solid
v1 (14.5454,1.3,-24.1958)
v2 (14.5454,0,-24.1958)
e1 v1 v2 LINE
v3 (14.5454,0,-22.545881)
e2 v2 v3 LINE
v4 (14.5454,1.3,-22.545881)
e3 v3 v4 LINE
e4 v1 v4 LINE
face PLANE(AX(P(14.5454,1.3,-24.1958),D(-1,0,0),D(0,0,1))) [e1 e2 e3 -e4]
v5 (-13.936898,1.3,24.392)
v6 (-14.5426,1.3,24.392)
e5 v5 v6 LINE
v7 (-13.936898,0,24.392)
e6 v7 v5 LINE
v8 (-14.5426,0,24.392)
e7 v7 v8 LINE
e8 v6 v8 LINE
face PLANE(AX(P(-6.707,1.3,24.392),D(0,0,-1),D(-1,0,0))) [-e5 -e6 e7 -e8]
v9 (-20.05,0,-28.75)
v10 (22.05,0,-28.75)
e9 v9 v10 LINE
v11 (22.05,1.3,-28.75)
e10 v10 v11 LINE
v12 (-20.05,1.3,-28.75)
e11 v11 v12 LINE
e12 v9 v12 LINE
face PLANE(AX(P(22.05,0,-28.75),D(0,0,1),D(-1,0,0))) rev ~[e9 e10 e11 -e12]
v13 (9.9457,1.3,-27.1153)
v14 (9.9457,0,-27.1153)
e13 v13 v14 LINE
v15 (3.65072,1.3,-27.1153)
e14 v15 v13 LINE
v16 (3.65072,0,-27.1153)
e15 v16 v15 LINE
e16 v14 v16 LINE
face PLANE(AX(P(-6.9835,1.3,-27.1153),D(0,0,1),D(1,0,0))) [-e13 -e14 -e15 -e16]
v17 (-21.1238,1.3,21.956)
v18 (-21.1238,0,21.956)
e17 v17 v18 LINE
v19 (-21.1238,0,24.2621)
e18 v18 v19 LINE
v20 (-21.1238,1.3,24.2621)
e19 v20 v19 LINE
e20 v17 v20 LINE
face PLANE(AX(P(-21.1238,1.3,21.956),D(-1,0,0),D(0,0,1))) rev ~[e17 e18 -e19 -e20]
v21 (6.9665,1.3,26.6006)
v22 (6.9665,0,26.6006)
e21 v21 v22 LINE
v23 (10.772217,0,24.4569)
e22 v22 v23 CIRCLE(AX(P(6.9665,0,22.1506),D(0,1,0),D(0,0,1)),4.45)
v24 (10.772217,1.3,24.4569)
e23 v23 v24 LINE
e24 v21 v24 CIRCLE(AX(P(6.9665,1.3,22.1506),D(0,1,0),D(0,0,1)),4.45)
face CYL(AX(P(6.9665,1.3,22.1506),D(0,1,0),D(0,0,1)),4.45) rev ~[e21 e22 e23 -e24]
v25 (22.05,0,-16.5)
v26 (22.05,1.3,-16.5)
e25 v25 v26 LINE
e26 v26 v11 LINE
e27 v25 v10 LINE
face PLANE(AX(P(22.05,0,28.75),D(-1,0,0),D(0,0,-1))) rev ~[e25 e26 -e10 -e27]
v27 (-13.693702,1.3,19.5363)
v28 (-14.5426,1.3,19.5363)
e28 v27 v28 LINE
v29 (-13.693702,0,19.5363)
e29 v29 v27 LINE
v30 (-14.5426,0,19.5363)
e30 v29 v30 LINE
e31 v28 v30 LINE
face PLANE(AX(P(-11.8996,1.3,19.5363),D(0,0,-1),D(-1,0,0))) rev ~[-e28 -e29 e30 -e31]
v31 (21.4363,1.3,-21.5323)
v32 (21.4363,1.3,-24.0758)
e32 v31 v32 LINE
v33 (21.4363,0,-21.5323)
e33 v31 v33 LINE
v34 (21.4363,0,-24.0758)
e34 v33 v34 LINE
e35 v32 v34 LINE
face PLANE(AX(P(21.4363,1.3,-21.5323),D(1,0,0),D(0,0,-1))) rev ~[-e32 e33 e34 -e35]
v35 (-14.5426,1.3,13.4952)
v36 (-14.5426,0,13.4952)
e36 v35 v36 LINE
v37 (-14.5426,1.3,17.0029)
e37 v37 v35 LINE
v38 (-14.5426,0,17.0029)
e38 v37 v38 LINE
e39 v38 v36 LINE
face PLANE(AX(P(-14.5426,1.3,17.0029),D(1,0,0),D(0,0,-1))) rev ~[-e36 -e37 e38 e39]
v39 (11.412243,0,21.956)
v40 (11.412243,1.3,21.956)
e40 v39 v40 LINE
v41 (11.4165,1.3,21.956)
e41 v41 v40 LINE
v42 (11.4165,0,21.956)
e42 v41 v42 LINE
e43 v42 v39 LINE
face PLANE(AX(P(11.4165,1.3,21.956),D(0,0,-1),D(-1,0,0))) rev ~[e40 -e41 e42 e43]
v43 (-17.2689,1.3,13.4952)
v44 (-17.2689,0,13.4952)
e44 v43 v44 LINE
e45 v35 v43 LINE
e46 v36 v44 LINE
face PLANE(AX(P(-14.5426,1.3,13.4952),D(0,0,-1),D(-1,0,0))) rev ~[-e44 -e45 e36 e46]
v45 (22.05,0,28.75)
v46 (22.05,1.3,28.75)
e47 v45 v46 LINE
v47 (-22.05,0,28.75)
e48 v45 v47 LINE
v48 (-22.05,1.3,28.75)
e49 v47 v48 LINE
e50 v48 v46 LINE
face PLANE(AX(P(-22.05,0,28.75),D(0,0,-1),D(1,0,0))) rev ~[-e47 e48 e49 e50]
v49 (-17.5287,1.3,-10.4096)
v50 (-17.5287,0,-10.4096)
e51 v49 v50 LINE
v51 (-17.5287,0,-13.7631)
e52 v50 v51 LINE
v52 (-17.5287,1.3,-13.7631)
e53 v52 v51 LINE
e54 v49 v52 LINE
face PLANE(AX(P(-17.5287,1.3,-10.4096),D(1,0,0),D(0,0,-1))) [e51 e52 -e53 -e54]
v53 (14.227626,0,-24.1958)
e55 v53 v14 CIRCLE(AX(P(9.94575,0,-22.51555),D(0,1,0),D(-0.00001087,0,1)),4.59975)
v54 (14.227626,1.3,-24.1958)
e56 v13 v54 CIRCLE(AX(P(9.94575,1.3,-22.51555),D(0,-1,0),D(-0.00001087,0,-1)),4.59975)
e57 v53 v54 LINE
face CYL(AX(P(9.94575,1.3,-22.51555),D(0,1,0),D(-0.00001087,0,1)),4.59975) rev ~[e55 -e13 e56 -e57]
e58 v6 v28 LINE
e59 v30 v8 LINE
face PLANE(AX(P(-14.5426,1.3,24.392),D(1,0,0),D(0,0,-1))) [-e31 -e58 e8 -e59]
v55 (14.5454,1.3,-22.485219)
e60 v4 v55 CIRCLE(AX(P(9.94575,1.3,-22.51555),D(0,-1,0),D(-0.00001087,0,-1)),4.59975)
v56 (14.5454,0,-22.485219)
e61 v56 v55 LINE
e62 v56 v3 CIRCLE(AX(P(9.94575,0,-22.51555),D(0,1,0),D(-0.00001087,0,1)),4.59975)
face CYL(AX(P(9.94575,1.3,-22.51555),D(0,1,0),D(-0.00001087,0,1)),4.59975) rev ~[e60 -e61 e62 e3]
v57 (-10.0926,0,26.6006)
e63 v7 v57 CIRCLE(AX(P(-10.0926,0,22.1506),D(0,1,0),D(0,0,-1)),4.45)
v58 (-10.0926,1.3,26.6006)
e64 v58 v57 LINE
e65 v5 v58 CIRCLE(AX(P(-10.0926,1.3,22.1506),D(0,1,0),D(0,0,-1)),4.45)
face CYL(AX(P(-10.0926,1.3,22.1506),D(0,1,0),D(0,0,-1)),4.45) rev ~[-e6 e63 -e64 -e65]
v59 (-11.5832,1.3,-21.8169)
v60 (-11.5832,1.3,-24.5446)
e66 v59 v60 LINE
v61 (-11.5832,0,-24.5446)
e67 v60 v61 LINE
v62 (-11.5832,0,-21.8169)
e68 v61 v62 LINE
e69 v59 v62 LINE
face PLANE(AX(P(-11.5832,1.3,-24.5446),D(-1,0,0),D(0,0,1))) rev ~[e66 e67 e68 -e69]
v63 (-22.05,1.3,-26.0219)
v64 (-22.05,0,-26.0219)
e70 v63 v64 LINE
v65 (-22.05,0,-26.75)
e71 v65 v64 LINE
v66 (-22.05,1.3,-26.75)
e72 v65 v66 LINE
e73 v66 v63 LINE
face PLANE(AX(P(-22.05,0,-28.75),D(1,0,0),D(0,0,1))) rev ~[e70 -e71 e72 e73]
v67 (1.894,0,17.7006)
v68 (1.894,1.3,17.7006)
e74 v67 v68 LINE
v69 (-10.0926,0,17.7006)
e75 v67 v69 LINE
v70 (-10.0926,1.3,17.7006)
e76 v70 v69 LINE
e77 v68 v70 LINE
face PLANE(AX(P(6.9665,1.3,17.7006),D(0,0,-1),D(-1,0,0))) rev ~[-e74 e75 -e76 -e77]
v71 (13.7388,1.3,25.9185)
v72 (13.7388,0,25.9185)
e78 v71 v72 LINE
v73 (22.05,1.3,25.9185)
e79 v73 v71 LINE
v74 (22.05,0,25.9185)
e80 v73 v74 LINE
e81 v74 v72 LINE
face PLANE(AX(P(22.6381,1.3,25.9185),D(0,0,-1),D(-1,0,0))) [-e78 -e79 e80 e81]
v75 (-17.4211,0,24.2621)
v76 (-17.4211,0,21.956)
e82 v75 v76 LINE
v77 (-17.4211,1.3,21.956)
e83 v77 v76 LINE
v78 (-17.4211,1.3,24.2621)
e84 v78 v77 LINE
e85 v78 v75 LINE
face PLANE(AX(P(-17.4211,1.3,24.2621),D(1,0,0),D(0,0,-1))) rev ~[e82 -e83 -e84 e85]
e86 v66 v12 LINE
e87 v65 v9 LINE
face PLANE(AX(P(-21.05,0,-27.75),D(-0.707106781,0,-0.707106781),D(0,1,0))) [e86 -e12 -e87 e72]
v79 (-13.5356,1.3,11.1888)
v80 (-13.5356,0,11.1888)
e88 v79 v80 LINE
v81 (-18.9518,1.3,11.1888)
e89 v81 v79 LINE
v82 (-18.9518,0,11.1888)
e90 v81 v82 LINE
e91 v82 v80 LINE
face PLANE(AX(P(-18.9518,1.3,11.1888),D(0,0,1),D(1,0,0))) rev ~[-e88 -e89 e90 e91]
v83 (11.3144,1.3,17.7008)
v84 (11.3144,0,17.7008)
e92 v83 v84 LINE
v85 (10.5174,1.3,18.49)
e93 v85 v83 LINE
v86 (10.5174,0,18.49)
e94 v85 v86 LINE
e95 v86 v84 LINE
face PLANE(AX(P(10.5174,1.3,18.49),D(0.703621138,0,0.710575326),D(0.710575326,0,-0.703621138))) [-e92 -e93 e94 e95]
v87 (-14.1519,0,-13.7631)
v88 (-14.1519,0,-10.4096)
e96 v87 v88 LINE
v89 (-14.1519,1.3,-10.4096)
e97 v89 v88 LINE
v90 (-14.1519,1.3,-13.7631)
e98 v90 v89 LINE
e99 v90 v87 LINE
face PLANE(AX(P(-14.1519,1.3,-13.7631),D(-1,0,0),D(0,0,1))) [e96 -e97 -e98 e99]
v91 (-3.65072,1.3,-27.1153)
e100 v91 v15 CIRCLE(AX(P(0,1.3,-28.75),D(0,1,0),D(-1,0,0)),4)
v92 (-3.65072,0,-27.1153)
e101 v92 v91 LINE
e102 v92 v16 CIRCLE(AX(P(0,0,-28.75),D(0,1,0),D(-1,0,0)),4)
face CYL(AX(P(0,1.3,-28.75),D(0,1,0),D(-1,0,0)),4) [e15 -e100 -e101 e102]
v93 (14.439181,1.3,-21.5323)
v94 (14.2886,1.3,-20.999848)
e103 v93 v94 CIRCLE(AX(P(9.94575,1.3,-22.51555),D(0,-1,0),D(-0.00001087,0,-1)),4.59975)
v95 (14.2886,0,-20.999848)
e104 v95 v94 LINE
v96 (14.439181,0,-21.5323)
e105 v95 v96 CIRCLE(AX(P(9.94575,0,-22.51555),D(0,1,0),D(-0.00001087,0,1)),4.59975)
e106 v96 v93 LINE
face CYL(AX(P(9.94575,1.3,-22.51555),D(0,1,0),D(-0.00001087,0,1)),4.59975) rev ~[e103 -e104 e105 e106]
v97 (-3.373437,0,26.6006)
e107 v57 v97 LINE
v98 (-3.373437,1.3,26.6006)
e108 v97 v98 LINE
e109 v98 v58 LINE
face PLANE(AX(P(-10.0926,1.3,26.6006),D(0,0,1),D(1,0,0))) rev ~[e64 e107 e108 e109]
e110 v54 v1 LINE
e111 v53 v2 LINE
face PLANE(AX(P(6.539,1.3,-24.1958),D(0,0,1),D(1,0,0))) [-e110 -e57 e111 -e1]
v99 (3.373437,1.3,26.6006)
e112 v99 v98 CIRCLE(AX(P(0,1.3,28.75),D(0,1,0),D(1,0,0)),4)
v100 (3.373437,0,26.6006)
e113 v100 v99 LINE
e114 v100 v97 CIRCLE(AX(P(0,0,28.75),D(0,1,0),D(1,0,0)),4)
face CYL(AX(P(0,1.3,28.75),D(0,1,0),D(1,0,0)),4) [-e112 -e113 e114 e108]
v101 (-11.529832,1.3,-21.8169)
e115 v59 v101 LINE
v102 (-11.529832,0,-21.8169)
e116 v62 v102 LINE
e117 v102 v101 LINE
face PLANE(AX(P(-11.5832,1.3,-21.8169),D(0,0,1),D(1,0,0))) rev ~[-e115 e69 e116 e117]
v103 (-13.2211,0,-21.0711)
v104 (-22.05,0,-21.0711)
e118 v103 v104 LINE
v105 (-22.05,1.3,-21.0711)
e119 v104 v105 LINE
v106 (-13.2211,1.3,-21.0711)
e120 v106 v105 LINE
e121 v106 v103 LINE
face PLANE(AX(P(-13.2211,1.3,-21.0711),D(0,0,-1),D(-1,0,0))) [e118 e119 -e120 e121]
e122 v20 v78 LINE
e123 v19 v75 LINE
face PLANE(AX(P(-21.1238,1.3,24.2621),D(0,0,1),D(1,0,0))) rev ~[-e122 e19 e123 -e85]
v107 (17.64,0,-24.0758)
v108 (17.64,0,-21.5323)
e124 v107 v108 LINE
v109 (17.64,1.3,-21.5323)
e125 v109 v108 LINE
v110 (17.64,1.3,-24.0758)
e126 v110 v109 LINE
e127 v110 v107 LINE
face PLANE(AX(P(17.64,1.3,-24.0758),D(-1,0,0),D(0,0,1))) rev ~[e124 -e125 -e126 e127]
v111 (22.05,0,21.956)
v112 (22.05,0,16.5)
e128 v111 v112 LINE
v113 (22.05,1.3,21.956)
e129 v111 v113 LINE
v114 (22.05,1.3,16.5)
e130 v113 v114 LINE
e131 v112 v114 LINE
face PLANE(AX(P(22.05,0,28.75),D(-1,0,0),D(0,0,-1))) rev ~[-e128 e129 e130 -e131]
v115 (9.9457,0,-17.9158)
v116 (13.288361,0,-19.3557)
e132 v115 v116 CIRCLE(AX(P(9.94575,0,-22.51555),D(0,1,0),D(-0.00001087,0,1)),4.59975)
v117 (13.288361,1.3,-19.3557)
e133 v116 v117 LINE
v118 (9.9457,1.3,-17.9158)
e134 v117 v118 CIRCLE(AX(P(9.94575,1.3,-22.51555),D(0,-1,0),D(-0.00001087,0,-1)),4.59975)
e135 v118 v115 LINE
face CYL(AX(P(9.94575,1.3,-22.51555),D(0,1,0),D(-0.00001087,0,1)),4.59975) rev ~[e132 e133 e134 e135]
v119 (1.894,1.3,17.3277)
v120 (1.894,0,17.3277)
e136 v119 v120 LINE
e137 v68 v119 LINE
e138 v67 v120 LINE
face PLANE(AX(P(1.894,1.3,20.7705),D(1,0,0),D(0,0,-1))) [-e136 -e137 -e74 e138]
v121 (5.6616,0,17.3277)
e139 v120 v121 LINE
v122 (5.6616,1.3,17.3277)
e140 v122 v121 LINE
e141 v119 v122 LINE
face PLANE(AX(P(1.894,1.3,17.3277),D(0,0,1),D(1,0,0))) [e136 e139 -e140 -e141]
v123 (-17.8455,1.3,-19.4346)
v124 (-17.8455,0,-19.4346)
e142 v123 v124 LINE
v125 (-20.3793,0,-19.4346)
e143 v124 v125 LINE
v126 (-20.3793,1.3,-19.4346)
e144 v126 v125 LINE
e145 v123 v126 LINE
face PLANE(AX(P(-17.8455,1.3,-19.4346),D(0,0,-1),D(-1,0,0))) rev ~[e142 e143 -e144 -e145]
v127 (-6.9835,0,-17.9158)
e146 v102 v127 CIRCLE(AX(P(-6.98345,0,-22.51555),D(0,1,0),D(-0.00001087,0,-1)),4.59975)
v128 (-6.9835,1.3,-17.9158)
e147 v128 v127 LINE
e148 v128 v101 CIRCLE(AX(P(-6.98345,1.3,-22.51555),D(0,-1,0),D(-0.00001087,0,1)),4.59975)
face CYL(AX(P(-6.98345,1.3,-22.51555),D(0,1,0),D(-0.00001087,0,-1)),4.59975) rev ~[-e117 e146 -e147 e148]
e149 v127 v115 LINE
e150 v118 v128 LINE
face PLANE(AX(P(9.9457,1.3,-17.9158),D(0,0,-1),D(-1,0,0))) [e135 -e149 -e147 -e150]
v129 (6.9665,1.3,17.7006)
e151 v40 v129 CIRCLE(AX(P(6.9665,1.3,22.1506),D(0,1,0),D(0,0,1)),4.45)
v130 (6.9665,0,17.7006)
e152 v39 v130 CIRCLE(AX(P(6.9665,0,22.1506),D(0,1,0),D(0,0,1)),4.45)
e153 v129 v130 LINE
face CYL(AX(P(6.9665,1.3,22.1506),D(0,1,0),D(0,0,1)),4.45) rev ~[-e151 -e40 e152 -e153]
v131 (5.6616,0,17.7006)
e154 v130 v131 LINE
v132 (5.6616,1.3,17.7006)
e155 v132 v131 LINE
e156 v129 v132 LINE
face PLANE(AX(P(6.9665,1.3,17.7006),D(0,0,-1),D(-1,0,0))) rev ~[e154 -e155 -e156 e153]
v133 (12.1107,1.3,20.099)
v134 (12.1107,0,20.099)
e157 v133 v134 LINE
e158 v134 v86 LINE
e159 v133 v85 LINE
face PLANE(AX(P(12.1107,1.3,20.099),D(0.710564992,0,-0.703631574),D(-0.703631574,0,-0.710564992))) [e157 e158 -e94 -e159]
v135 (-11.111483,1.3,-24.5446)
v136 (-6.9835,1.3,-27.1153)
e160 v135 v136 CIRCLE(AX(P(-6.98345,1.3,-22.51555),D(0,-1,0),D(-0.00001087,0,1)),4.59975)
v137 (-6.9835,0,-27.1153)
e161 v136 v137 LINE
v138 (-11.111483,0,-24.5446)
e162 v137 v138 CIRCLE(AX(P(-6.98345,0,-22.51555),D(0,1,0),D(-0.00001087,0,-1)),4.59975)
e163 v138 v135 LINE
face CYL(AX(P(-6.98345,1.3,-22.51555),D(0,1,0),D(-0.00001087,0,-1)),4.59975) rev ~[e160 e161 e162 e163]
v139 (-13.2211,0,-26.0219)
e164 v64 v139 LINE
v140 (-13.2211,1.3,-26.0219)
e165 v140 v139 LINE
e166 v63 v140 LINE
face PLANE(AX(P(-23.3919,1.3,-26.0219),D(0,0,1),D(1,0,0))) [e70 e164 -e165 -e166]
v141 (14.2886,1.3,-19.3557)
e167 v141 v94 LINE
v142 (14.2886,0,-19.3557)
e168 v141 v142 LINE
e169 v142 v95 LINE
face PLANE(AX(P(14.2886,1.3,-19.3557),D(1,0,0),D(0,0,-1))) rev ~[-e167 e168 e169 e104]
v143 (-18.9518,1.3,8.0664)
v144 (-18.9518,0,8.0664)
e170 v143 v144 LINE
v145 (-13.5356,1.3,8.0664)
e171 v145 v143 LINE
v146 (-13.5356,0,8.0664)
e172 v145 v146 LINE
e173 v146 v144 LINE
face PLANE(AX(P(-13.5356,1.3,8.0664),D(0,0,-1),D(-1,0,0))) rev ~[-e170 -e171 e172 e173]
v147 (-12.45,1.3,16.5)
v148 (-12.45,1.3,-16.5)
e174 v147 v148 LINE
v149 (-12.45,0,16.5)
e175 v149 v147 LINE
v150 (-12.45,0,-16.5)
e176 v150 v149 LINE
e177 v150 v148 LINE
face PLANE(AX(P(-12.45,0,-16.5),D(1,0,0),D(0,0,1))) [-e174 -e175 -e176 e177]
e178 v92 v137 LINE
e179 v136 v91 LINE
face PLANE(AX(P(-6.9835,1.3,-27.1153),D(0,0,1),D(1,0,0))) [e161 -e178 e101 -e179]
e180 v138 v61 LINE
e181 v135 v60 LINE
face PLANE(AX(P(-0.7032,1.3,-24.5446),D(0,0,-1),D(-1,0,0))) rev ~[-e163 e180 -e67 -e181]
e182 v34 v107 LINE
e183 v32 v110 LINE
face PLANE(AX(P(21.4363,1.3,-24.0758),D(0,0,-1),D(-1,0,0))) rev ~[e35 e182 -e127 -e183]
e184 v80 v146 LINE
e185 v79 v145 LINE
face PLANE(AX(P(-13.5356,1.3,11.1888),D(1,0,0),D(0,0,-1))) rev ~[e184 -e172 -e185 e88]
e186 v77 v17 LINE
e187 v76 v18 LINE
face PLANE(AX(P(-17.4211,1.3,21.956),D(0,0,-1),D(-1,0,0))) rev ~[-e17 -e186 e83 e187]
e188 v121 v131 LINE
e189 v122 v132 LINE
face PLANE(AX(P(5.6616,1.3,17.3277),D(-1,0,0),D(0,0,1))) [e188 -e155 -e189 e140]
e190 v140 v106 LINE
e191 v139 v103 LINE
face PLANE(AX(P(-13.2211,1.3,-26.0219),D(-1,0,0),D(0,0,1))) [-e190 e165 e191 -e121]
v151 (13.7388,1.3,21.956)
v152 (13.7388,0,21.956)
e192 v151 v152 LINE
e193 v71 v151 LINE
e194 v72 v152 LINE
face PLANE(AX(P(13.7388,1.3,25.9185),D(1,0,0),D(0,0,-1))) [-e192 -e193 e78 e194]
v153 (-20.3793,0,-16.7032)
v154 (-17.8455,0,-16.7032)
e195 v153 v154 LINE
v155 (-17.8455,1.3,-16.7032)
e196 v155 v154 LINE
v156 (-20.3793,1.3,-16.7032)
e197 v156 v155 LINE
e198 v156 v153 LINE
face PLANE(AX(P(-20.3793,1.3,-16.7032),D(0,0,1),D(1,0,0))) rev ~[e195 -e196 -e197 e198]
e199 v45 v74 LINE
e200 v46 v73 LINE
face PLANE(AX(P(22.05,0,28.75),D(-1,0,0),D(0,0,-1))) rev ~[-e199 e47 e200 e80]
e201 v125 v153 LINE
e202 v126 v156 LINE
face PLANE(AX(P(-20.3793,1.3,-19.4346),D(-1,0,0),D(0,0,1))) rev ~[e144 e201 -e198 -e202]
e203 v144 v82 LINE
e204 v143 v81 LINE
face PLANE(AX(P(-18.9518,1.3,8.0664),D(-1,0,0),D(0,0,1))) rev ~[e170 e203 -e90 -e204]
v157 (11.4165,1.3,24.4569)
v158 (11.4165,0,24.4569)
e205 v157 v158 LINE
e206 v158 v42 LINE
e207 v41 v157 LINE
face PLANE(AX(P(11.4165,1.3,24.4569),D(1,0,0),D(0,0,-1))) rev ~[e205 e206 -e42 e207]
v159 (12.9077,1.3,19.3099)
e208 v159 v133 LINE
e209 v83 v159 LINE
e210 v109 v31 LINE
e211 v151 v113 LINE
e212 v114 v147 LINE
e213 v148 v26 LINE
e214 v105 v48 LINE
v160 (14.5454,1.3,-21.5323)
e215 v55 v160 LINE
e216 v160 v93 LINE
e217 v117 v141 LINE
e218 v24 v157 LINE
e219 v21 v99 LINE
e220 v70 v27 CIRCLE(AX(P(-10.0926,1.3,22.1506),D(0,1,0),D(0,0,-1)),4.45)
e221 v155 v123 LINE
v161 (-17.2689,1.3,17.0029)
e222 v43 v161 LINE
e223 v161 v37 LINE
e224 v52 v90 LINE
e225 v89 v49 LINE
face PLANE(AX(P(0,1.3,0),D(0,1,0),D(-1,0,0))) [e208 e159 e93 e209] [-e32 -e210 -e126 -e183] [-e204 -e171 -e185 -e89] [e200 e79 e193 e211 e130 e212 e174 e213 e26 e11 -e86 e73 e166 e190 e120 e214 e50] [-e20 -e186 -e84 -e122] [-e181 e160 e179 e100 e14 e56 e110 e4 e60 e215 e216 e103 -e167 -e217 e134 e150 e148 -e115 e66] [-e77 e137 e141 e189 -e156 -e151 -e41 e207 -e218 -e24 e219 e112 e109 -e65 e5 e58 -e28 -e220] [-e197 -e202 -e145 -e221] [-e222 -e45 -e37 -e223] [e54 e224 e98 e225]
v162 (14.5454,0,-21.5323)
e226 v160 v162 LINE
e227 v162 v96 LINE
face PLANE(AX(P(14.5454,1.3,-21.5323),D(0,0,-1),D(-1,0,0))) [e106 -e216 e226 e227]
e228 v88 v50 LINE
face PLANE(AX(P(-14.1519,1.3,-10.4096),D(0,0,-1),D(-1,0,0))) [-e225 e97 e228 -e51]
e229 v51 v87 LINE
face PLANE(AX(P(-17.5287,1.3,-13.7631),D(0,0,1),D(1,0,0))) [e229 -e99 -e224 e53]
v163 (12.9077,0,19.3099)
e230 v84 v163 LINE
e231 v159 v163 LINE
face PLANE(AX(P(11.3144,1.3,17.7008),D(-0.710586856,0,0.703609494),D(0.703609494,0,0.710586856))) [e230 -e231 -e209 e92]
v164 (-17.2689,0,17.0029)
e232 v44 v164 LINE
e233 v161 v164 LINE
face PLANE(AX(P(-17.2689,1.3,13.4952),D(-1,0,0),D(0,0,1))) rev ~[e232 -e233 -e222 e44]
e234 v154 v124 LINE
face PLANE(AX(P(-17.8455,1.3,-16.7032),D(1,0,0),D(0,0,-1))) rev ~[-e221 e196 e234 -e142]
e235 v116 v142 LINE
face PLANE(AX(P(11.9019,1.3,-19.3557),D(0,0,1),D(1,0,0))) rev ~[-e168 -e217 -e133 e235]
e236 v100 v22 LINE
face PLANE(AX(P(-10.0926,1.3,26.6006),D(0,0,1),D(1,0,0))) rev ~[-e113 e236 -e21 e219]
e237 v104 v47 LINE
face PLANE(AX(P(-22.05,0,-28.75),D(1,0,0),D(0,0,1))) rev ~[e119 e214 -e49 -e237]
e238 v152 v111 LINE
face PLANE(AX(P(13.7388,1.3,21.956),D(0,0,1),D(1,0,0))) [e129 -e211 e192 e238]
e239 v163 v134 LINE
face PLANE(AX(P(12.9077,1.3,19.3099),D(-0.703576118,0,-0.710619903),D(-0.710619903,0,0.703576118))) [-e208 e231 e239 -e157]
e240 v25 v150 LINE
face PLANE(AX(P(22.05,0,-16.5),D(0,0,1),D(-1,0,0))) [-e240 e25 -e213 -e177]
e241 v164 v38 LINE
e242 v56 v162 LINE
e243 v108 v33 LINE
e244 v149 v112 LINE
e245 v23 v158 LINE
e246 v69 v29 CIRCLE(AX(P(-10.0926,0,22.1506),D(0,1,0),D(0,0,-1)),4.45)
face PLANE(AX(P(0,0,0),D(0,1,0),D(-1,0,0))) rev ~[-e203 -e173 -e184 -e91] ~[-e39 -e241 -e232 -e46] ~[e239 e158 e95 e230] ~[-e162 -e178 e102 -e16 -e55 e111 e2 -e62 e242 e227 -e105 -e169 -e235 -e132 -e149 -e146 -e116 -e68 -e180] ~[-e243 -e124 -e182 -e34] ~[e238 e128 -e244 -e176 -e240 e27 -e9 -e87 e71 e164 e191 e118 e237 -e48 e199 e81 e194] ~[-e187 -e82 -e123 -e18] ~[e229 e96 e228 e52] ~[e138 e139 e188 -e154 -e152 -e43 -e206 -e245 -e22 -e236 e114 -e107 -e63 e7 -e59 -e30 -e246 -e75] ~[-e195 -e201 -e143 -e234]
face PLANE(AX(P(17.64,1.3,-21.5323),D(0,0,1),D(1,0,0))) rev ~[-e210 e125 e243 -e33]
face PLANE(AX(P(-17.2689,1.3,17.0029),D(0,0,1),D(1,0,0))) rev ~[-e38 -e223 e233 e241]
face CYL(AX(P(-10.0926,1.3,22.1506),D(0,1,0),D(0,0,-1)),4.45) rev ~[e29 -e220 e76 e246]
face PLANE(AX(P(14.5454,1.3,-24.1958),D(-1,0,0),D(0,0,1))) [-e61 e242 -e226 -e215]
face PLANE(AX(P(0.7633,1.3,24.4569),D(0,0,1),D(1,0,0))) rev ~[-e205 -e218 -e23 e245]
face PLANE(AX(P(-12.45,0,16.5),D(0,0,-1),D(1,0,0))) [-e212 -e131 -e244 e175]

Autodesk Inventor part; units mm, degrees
ref_plane "YZ Plane" through (0, 0, 0) normal (1, 0, 0) x (0, 1, 0)
ref_plane "XZ Plane" through (0, 0, 0) normal (0, 1, 0) x (-1, 0, 0)
ref_plane "XY Plane" through (0, 0, 0) normal (0, 0, 1) x (1, 0, 0)
sketch "Sketch1" plane through (0, 0, 0) normal (0, 1, 0) x (-1, 0, 0)
  line L0 (-22.05, -28.75) -> (22.05, -28.75)
  line L1 (22.05, -28.75) -> (22.05, 28.75)
  line L2 (22.05, 28.75) -> (-22.05, 28.75)
  line L3 (-22.05, 28.75) -> (-22.05, -28.75)
  line L4 (-22.05, -28.75) -> (22.05, 28.75) construction
  line L5 (22.05, -28.75) -> (-22.05, 28.75) construction
  point P0 (0, 0)
  dimension "d0" = 57.5
  dimension "d1" = 44.1
extrude "Extrusion1" add sketch "Sketch1" along normal blind 1.3
chamfer "Chamfer1" distance 2 angle 45 1 edges at (-22.05, 0.65, -28.75)
sketch "Sketch4" plane through (0, 1.3, 0) normal (0, 1, 0) x (1, 0, 0)
  line L0 (22.6381, -25.9185) -> (13.7388, -25.9185)
  line L1 (13.7388, -25.9185) -> (13.7388, -21.956)
  line L2 (13.7388, -21.956) -> (22.6381, -21.956)
  line L3 (22.6381, -21.956) -> (22.6381, -25.9185)
  line L4 (11.4165, -21.956) -> (0.7633, -21.956)
  line L5 (0.7633, -21.956) -> (0.7633, -24.4569)
  line L6 (0.7633, -24.4569) -> (11.4165, -24.4569)
  line L7 (11.4165, -24.4569) -> (11.4165, -21.956)
  line L8 (-0.6658, -26.6006) -> (-6.707, -26.6006)
  line L9 (-6.707, -26.6006) -> (-6.707, -22.3783)
  line L10 (-6.707, -22.3783) -> (-0.6658, -22.3783)
  line L11 (-0.6658, -22.3783) -> (-0.6658, -26.6006)
  line L12 (-6.707, -24.392) -> (-14.5426, -24.392)
  line L13 (-14.5426, -24.392) -> (-14.5426, -21.0953)
  line L14 (-14.5426, -21.0953) -> (-6.707, -21.0953)
  line L15 (-6.707, -21.0953) -> (-6.707, -24.392)
  line L16 (-14.5426, -21.0953) -> (-11.8996, -21.0953)
  line L17 (-11.8996, -21.0953) -> (-11.8996, -19.5363)
  line L18 (-11.8996, -19.5363) -> (-14.5426, -19.5363)
  line L19 (-14.5426, -19.5363) -> (-14.5426, -21.0953)
  line L20 (-21.1238, -24.2621) -> (-17.4211, -24.2621)
  line L21 (-17.4211, -24.2621) -> (-17.4211, -21.956)
  line L22 (-17.4211, -21.956) -> (-21.1238, -21.956)
  line L23 (-21.1238, -21.956) -> (-21.1238, -24.2621)
  line L24 (5.6616, -20.7705) -> (1.894, -20.7705)
  line L25 (1.894, -20.7705) -> (1.894, -17.3277)
  line L26 (1.894, -17.3277) -> (5.6616, -17.3277)
  line L27 (5.6616, -17.3277) -> (5.6616, -20.7705)
  line L28 (-2.848, -19.9261) -> (-5.2515, -19.9261)
  line L29 (-5.2515, -19.9261) -> (-5.2515, -18.3346)
  line L30 (-5.2515, -18.3346) -> (-2.848, -18.3346)
  line L31 (-2.848, -18.3346) -> (-2.848, -19.9261)
  line L32 (-17.2689, -17.0029) -> (-14.5426, -17.0029)
  line L33 (-14.5426, -17.0029) -> (-14.5426, -13.4952)
  line L34 (-14.5426, -13.4952) -> (-17.2689, -13.4952)
  line L35 (-17.2689, -13.4952) -> (-17.2689, -17.0029)
  line L36 (15.925, -11.4814) -> (12.4173, -11.4814)
  line L37 (12.4173, -11.4814) -> (12.4173, -14.7294)
  line L38 (12.4173, -14.7294) -> (15.925, -14.7294)
  line L39 (15.925, -14.7294) -> (15.925, -11.4814)
  line L40 (-2.1335, 9.0455) -> (1.894, 9.0455)
  line L41 (1.894, 9.0455) -> (1.894, -8.9481)
  line L42 (1.894, -8.9481) -> (-2.1335, -8.9481)
  line L43 (-2.1335, -8.9481) -> (-2.1335, 9.0455)
  line L44 (4.5573, 3.3291) -> (1.6991, 3.3291)
  line L45 (1.6991, 3.3291) -> (1.6991, 0.6009)
  line L46 (1.6991, 0.6009) -> (4.5573, 0.6009)
  line L47 (4.5573, 0.6009) -> (4.5573, 3.3291)
  line L48 (-17.5287, 13.7631) -> (-14.1519, 13.7631)
  line L49 (-14.1519, 13.7631) -> (-14.1519, 10.4096)
  line L50 (-14.1519, 10.4096) -> (-17.5287, 10.4096)
  line L51 (-17.5287, 10.4096) -> (-17.5287, 13.7631)
  line L52 (16.8052, 16.3739) -> (14.7212, 16.3739)
  line L53 (14.7212, 16.3739) -> (14.7212, 12.4259)
  line L54 (14.7212, 12.4259) -> (16.8052, 12.4259)
  line L55 (16.8052, 12.4259) -> (16.8052, 16.3739)
  line L56 (-23.3919, 26.0219) -> (-13.2211, 26.0219)
  line L57 (-13.2211, 26.0219) -> (-13.2211, 21.0711)
  line L58 (-13.2211, 21.0711) -> (-23.3919, 21.0711)
  line L59 (-23.3919, 21.0711) -> (-23.3919, 26.0219)
  line L60 (-20.3793, 16.7032) -> (-17.8455, 16.7032)
  line L61 (-17.8455, 16.7032) -> (-17.8455, 19.4346)
  line L62 (-17.8455, 19.4346) -> (-20.3793, 19.4346)
  line L63 (-20.3793, 19.4346) -> (-20.3793, 16.7032)
  line L64 (-11.5832, 21.8169) -> (-0.7032, 21.8169)
  line L65 (-0.7032, 21.8169) -> (-0.7032, 24.5446)
  line L66 (-0.7032, 24.5446) -> (-11.5832, 24.5446)
  line L67 (-11.5832, 24.5446) -> (-11.5832, 21.8169)
  line L68 (-2.5673, 18.6812) -> (-4.8458, 18.6812)
  line L69 (-4.8458, 18.6812) -> (-4.8458, 22.2038)
  line L70 (-4.8458, 22.2038) -> (-2.5673, 22.2038)
  line L71 (-2.5673, 22.2038) -> (-2.5673, 18.6812)
  line L72 (0.9146, 27.1153) -> (6.539, 27.1153)
  line L73 (6.539, 27.1153) -> (6.539, 22.2038)
  line L74 (6.539, 22.2038) -> (0.9146, 22.2038)
  line L75 (0.9146, 22.2038) -> (0.9146, 27.1153)
  line L76 (2.2307, 17.9158) -> (4.5573, 17.9158)
  line L77 (4.5573, 17.9158) -> (4.5573, 22.2038)
  line L78 (4.5573, 22.2038) -> (2.2307, 22.2038)
  line L79 (2.2307, 22.2038) -> (2.2307, 17.9158)
  line L80 (6.0899, 24.1958) -> (14.5454, 24.1958)
  line L81 (14.5454, 24.1958) -> (14.5454, 21.5323)
  line L82 (14.5454, 21.5323) -> (6.0899, 21.5323)
  line L83 (6.0899, 21.5323) -> (6.0899, 24.1958)
  line L84 (14.2886, 21.5323) -> (11.9019, 21.5323)
  line L85 (11.9019, 21.5323) -> (11.9019, 19.3557)
  line L86 (11.9019, 19.3557) -> (14.2886, 19.3557)
  line L87 (14.2886, 19.3557) -> (14.2886, 21.5323)
  line L88 (21.4363, 24.0758) -> (17.64, 24.0758)
  line L89 (17.64, 24.0758) -> (17.64, 21.5323)
  line L90 (17.64, 21.5323) -> (21.4363, 21.5323)
  line L91 (21.4363, 21.5323) -> (21.4363, 24.0758)
  line L92 (12.1107, -20.099) -> (10.5174, -18.49)
  line L93 (10.5174, -18.49) -> (11.3144, -17.7008)
  line L94 (11.3144, -17.7008) -> (12.9077, -19.3099)
  line L95 (12.9077, -19.3099) -> (12.1107, -20.099)
  line L96 (-18.9518, -11.1888) -> (-13.5356, -11.1888)
  line L97 (-13.5356, -11.1888) -> (-13.5356, -8.0664)
  line L98 (-13.5356, -8.0664) -> (-18.9518, -8.0664)
  line L99 (-18.9518, -8.0664) -> (-18.9518, -11.1888)
  point P0 (0, 0)
  point P1 (6.539, 24.1958)
  point P2 (6.0899, 22.2038)
extrude "Clearance Cutouts" cut sketch "Sketch4" against normal blind 1.5
sketch "Sketch5" plane through (0, 1.3, 0) normal (0, 1, 0) x (1, 0, 0)
  line L0 (9.9457, 22.5156) -> (-6.9835, 22.5156) construction
  line L1 (9.9457, 17.9158) -> (-6.9835, 17.9158)
  line L2 (-6.9835, 27.1153) -> (9.9457, 27.1153)
  arc A0 (9.9457, 17.9158) -> (9.9457, 27.1153) centre (9.9457, 22.5156) ccw
  arc A1 (-6.9835, 27.1153) -> (-6.9835, 17.9158) centre (-6.9835, 22.5156) ccw
  line L3 (-11.5832, 24.5446) -> (-0.7032, 24.5446) projected
  line L4 (0.9146, 22.2038) -> (0.9146, 27.1153) projected
  line L5 (-13.2211, 26.0219) -> (-13.2211, 21.0711) projected
  line L6 (-11.5832, 21.8169) -> (-11.5832, 24.5446) projected
  line L7 (14.5454, 24.1958) -> (14.5454, 21.5323) projected
  line L8 (-10.0926, -22.1506) -> (6.9665, -22.1506) construction
  line L9 (-10.0926, -26.6006) -> (6.9665, -26.6006)
  line L10 (6.9665, -17.7006) -> (-10.0926, -17.7006)
  arc A2 (-10.0926, -17.7006) -> (-10.0926, -26.6006) centre (-10.0926, -22.1506) ccw
  arc A3 (6.9665, -26.6006) -> (6.9665, -17.7006) centre (6.9665, -22.1506) ccw
  point P0 (0, 0)
  point P1 (1.4811, 22.5156)
  point P2 (14.5454, 22.5156)
  point P3 (-11.5832, 22.5156)
  point P4 (4.5573, 17.9158)
  point P5 (-1.5631, -22.1506)
  point P6 (-0.6658, -26.6006)
  point P7 (11.4165, -22.1506)
  point P8 (11.4165, -24.4569)
  point P9 (-14.5426, -22.1506)
  point P10 (-14.5426, -19.5363)
  dimension "d53" = 8.9
extrude "Extrusion4" cut sketch "Sketch5" against normal blind 1.5 contours L1 A1 L2 A0 | A2 L10 A3 L9
sketch "Sketch6" plane through (0, 0, 0) normal (0, -1, 0) x (1, 0, 0)
  line L0 (22.05, 21.956) -> (22.05, -28.75) projected
  line L1 (22.05, -16.5) -> (-12.45, -16.5)
  line L2 (-12.45, -16.5) -> (-12.45, 16.5)
  line L3 (-12.45, 16.5) -> (22.05, 16.5)
  line L4 (22.05, 16.5) -> (22.05, -16.5)
  point P0 (0, 0)
  point P1 (22.05, 16.5)
  dimension "d44" = 33
  dimension "d45" = 34.5
  dimension "d46" = 16.5
extrude "Extrusion5" cut sketch "Sketch6" against normal through all
sketch "Sketch7" plane through (0, 1.3, 0) normal (0, 1, 0) x (1, 0, 0)
  line L0 (-22.05, -28.75) -> (22.05, -28.75) projected
  arc A0 (4, -28.75) -> (-4, -28.75) centre (0, -28.75) ccw
  line L1 (22.05, 28.75) -> (-20.05, 28.75) projected
  arc A1 (-4, 28.75) -> (4, 28.75) centre (0, 28.75) ccw
  line L2 (22.05, 28.75) -> (-20.05, 28.75) projected
  point P0 (0, 0)
  point P1 (4, 28.75)
  dimension "d49" = 4
  dimension "d50" = 4
extrude "Extrusion6" add sketch "Sketch7" against normal up to surface (1.3 mm away)
equation "\"d46\" = 0.5 * d44"
equation "\"d50\" = d49"
properties part number "Flex Holder V1" material "Thermoplastic Resin"
